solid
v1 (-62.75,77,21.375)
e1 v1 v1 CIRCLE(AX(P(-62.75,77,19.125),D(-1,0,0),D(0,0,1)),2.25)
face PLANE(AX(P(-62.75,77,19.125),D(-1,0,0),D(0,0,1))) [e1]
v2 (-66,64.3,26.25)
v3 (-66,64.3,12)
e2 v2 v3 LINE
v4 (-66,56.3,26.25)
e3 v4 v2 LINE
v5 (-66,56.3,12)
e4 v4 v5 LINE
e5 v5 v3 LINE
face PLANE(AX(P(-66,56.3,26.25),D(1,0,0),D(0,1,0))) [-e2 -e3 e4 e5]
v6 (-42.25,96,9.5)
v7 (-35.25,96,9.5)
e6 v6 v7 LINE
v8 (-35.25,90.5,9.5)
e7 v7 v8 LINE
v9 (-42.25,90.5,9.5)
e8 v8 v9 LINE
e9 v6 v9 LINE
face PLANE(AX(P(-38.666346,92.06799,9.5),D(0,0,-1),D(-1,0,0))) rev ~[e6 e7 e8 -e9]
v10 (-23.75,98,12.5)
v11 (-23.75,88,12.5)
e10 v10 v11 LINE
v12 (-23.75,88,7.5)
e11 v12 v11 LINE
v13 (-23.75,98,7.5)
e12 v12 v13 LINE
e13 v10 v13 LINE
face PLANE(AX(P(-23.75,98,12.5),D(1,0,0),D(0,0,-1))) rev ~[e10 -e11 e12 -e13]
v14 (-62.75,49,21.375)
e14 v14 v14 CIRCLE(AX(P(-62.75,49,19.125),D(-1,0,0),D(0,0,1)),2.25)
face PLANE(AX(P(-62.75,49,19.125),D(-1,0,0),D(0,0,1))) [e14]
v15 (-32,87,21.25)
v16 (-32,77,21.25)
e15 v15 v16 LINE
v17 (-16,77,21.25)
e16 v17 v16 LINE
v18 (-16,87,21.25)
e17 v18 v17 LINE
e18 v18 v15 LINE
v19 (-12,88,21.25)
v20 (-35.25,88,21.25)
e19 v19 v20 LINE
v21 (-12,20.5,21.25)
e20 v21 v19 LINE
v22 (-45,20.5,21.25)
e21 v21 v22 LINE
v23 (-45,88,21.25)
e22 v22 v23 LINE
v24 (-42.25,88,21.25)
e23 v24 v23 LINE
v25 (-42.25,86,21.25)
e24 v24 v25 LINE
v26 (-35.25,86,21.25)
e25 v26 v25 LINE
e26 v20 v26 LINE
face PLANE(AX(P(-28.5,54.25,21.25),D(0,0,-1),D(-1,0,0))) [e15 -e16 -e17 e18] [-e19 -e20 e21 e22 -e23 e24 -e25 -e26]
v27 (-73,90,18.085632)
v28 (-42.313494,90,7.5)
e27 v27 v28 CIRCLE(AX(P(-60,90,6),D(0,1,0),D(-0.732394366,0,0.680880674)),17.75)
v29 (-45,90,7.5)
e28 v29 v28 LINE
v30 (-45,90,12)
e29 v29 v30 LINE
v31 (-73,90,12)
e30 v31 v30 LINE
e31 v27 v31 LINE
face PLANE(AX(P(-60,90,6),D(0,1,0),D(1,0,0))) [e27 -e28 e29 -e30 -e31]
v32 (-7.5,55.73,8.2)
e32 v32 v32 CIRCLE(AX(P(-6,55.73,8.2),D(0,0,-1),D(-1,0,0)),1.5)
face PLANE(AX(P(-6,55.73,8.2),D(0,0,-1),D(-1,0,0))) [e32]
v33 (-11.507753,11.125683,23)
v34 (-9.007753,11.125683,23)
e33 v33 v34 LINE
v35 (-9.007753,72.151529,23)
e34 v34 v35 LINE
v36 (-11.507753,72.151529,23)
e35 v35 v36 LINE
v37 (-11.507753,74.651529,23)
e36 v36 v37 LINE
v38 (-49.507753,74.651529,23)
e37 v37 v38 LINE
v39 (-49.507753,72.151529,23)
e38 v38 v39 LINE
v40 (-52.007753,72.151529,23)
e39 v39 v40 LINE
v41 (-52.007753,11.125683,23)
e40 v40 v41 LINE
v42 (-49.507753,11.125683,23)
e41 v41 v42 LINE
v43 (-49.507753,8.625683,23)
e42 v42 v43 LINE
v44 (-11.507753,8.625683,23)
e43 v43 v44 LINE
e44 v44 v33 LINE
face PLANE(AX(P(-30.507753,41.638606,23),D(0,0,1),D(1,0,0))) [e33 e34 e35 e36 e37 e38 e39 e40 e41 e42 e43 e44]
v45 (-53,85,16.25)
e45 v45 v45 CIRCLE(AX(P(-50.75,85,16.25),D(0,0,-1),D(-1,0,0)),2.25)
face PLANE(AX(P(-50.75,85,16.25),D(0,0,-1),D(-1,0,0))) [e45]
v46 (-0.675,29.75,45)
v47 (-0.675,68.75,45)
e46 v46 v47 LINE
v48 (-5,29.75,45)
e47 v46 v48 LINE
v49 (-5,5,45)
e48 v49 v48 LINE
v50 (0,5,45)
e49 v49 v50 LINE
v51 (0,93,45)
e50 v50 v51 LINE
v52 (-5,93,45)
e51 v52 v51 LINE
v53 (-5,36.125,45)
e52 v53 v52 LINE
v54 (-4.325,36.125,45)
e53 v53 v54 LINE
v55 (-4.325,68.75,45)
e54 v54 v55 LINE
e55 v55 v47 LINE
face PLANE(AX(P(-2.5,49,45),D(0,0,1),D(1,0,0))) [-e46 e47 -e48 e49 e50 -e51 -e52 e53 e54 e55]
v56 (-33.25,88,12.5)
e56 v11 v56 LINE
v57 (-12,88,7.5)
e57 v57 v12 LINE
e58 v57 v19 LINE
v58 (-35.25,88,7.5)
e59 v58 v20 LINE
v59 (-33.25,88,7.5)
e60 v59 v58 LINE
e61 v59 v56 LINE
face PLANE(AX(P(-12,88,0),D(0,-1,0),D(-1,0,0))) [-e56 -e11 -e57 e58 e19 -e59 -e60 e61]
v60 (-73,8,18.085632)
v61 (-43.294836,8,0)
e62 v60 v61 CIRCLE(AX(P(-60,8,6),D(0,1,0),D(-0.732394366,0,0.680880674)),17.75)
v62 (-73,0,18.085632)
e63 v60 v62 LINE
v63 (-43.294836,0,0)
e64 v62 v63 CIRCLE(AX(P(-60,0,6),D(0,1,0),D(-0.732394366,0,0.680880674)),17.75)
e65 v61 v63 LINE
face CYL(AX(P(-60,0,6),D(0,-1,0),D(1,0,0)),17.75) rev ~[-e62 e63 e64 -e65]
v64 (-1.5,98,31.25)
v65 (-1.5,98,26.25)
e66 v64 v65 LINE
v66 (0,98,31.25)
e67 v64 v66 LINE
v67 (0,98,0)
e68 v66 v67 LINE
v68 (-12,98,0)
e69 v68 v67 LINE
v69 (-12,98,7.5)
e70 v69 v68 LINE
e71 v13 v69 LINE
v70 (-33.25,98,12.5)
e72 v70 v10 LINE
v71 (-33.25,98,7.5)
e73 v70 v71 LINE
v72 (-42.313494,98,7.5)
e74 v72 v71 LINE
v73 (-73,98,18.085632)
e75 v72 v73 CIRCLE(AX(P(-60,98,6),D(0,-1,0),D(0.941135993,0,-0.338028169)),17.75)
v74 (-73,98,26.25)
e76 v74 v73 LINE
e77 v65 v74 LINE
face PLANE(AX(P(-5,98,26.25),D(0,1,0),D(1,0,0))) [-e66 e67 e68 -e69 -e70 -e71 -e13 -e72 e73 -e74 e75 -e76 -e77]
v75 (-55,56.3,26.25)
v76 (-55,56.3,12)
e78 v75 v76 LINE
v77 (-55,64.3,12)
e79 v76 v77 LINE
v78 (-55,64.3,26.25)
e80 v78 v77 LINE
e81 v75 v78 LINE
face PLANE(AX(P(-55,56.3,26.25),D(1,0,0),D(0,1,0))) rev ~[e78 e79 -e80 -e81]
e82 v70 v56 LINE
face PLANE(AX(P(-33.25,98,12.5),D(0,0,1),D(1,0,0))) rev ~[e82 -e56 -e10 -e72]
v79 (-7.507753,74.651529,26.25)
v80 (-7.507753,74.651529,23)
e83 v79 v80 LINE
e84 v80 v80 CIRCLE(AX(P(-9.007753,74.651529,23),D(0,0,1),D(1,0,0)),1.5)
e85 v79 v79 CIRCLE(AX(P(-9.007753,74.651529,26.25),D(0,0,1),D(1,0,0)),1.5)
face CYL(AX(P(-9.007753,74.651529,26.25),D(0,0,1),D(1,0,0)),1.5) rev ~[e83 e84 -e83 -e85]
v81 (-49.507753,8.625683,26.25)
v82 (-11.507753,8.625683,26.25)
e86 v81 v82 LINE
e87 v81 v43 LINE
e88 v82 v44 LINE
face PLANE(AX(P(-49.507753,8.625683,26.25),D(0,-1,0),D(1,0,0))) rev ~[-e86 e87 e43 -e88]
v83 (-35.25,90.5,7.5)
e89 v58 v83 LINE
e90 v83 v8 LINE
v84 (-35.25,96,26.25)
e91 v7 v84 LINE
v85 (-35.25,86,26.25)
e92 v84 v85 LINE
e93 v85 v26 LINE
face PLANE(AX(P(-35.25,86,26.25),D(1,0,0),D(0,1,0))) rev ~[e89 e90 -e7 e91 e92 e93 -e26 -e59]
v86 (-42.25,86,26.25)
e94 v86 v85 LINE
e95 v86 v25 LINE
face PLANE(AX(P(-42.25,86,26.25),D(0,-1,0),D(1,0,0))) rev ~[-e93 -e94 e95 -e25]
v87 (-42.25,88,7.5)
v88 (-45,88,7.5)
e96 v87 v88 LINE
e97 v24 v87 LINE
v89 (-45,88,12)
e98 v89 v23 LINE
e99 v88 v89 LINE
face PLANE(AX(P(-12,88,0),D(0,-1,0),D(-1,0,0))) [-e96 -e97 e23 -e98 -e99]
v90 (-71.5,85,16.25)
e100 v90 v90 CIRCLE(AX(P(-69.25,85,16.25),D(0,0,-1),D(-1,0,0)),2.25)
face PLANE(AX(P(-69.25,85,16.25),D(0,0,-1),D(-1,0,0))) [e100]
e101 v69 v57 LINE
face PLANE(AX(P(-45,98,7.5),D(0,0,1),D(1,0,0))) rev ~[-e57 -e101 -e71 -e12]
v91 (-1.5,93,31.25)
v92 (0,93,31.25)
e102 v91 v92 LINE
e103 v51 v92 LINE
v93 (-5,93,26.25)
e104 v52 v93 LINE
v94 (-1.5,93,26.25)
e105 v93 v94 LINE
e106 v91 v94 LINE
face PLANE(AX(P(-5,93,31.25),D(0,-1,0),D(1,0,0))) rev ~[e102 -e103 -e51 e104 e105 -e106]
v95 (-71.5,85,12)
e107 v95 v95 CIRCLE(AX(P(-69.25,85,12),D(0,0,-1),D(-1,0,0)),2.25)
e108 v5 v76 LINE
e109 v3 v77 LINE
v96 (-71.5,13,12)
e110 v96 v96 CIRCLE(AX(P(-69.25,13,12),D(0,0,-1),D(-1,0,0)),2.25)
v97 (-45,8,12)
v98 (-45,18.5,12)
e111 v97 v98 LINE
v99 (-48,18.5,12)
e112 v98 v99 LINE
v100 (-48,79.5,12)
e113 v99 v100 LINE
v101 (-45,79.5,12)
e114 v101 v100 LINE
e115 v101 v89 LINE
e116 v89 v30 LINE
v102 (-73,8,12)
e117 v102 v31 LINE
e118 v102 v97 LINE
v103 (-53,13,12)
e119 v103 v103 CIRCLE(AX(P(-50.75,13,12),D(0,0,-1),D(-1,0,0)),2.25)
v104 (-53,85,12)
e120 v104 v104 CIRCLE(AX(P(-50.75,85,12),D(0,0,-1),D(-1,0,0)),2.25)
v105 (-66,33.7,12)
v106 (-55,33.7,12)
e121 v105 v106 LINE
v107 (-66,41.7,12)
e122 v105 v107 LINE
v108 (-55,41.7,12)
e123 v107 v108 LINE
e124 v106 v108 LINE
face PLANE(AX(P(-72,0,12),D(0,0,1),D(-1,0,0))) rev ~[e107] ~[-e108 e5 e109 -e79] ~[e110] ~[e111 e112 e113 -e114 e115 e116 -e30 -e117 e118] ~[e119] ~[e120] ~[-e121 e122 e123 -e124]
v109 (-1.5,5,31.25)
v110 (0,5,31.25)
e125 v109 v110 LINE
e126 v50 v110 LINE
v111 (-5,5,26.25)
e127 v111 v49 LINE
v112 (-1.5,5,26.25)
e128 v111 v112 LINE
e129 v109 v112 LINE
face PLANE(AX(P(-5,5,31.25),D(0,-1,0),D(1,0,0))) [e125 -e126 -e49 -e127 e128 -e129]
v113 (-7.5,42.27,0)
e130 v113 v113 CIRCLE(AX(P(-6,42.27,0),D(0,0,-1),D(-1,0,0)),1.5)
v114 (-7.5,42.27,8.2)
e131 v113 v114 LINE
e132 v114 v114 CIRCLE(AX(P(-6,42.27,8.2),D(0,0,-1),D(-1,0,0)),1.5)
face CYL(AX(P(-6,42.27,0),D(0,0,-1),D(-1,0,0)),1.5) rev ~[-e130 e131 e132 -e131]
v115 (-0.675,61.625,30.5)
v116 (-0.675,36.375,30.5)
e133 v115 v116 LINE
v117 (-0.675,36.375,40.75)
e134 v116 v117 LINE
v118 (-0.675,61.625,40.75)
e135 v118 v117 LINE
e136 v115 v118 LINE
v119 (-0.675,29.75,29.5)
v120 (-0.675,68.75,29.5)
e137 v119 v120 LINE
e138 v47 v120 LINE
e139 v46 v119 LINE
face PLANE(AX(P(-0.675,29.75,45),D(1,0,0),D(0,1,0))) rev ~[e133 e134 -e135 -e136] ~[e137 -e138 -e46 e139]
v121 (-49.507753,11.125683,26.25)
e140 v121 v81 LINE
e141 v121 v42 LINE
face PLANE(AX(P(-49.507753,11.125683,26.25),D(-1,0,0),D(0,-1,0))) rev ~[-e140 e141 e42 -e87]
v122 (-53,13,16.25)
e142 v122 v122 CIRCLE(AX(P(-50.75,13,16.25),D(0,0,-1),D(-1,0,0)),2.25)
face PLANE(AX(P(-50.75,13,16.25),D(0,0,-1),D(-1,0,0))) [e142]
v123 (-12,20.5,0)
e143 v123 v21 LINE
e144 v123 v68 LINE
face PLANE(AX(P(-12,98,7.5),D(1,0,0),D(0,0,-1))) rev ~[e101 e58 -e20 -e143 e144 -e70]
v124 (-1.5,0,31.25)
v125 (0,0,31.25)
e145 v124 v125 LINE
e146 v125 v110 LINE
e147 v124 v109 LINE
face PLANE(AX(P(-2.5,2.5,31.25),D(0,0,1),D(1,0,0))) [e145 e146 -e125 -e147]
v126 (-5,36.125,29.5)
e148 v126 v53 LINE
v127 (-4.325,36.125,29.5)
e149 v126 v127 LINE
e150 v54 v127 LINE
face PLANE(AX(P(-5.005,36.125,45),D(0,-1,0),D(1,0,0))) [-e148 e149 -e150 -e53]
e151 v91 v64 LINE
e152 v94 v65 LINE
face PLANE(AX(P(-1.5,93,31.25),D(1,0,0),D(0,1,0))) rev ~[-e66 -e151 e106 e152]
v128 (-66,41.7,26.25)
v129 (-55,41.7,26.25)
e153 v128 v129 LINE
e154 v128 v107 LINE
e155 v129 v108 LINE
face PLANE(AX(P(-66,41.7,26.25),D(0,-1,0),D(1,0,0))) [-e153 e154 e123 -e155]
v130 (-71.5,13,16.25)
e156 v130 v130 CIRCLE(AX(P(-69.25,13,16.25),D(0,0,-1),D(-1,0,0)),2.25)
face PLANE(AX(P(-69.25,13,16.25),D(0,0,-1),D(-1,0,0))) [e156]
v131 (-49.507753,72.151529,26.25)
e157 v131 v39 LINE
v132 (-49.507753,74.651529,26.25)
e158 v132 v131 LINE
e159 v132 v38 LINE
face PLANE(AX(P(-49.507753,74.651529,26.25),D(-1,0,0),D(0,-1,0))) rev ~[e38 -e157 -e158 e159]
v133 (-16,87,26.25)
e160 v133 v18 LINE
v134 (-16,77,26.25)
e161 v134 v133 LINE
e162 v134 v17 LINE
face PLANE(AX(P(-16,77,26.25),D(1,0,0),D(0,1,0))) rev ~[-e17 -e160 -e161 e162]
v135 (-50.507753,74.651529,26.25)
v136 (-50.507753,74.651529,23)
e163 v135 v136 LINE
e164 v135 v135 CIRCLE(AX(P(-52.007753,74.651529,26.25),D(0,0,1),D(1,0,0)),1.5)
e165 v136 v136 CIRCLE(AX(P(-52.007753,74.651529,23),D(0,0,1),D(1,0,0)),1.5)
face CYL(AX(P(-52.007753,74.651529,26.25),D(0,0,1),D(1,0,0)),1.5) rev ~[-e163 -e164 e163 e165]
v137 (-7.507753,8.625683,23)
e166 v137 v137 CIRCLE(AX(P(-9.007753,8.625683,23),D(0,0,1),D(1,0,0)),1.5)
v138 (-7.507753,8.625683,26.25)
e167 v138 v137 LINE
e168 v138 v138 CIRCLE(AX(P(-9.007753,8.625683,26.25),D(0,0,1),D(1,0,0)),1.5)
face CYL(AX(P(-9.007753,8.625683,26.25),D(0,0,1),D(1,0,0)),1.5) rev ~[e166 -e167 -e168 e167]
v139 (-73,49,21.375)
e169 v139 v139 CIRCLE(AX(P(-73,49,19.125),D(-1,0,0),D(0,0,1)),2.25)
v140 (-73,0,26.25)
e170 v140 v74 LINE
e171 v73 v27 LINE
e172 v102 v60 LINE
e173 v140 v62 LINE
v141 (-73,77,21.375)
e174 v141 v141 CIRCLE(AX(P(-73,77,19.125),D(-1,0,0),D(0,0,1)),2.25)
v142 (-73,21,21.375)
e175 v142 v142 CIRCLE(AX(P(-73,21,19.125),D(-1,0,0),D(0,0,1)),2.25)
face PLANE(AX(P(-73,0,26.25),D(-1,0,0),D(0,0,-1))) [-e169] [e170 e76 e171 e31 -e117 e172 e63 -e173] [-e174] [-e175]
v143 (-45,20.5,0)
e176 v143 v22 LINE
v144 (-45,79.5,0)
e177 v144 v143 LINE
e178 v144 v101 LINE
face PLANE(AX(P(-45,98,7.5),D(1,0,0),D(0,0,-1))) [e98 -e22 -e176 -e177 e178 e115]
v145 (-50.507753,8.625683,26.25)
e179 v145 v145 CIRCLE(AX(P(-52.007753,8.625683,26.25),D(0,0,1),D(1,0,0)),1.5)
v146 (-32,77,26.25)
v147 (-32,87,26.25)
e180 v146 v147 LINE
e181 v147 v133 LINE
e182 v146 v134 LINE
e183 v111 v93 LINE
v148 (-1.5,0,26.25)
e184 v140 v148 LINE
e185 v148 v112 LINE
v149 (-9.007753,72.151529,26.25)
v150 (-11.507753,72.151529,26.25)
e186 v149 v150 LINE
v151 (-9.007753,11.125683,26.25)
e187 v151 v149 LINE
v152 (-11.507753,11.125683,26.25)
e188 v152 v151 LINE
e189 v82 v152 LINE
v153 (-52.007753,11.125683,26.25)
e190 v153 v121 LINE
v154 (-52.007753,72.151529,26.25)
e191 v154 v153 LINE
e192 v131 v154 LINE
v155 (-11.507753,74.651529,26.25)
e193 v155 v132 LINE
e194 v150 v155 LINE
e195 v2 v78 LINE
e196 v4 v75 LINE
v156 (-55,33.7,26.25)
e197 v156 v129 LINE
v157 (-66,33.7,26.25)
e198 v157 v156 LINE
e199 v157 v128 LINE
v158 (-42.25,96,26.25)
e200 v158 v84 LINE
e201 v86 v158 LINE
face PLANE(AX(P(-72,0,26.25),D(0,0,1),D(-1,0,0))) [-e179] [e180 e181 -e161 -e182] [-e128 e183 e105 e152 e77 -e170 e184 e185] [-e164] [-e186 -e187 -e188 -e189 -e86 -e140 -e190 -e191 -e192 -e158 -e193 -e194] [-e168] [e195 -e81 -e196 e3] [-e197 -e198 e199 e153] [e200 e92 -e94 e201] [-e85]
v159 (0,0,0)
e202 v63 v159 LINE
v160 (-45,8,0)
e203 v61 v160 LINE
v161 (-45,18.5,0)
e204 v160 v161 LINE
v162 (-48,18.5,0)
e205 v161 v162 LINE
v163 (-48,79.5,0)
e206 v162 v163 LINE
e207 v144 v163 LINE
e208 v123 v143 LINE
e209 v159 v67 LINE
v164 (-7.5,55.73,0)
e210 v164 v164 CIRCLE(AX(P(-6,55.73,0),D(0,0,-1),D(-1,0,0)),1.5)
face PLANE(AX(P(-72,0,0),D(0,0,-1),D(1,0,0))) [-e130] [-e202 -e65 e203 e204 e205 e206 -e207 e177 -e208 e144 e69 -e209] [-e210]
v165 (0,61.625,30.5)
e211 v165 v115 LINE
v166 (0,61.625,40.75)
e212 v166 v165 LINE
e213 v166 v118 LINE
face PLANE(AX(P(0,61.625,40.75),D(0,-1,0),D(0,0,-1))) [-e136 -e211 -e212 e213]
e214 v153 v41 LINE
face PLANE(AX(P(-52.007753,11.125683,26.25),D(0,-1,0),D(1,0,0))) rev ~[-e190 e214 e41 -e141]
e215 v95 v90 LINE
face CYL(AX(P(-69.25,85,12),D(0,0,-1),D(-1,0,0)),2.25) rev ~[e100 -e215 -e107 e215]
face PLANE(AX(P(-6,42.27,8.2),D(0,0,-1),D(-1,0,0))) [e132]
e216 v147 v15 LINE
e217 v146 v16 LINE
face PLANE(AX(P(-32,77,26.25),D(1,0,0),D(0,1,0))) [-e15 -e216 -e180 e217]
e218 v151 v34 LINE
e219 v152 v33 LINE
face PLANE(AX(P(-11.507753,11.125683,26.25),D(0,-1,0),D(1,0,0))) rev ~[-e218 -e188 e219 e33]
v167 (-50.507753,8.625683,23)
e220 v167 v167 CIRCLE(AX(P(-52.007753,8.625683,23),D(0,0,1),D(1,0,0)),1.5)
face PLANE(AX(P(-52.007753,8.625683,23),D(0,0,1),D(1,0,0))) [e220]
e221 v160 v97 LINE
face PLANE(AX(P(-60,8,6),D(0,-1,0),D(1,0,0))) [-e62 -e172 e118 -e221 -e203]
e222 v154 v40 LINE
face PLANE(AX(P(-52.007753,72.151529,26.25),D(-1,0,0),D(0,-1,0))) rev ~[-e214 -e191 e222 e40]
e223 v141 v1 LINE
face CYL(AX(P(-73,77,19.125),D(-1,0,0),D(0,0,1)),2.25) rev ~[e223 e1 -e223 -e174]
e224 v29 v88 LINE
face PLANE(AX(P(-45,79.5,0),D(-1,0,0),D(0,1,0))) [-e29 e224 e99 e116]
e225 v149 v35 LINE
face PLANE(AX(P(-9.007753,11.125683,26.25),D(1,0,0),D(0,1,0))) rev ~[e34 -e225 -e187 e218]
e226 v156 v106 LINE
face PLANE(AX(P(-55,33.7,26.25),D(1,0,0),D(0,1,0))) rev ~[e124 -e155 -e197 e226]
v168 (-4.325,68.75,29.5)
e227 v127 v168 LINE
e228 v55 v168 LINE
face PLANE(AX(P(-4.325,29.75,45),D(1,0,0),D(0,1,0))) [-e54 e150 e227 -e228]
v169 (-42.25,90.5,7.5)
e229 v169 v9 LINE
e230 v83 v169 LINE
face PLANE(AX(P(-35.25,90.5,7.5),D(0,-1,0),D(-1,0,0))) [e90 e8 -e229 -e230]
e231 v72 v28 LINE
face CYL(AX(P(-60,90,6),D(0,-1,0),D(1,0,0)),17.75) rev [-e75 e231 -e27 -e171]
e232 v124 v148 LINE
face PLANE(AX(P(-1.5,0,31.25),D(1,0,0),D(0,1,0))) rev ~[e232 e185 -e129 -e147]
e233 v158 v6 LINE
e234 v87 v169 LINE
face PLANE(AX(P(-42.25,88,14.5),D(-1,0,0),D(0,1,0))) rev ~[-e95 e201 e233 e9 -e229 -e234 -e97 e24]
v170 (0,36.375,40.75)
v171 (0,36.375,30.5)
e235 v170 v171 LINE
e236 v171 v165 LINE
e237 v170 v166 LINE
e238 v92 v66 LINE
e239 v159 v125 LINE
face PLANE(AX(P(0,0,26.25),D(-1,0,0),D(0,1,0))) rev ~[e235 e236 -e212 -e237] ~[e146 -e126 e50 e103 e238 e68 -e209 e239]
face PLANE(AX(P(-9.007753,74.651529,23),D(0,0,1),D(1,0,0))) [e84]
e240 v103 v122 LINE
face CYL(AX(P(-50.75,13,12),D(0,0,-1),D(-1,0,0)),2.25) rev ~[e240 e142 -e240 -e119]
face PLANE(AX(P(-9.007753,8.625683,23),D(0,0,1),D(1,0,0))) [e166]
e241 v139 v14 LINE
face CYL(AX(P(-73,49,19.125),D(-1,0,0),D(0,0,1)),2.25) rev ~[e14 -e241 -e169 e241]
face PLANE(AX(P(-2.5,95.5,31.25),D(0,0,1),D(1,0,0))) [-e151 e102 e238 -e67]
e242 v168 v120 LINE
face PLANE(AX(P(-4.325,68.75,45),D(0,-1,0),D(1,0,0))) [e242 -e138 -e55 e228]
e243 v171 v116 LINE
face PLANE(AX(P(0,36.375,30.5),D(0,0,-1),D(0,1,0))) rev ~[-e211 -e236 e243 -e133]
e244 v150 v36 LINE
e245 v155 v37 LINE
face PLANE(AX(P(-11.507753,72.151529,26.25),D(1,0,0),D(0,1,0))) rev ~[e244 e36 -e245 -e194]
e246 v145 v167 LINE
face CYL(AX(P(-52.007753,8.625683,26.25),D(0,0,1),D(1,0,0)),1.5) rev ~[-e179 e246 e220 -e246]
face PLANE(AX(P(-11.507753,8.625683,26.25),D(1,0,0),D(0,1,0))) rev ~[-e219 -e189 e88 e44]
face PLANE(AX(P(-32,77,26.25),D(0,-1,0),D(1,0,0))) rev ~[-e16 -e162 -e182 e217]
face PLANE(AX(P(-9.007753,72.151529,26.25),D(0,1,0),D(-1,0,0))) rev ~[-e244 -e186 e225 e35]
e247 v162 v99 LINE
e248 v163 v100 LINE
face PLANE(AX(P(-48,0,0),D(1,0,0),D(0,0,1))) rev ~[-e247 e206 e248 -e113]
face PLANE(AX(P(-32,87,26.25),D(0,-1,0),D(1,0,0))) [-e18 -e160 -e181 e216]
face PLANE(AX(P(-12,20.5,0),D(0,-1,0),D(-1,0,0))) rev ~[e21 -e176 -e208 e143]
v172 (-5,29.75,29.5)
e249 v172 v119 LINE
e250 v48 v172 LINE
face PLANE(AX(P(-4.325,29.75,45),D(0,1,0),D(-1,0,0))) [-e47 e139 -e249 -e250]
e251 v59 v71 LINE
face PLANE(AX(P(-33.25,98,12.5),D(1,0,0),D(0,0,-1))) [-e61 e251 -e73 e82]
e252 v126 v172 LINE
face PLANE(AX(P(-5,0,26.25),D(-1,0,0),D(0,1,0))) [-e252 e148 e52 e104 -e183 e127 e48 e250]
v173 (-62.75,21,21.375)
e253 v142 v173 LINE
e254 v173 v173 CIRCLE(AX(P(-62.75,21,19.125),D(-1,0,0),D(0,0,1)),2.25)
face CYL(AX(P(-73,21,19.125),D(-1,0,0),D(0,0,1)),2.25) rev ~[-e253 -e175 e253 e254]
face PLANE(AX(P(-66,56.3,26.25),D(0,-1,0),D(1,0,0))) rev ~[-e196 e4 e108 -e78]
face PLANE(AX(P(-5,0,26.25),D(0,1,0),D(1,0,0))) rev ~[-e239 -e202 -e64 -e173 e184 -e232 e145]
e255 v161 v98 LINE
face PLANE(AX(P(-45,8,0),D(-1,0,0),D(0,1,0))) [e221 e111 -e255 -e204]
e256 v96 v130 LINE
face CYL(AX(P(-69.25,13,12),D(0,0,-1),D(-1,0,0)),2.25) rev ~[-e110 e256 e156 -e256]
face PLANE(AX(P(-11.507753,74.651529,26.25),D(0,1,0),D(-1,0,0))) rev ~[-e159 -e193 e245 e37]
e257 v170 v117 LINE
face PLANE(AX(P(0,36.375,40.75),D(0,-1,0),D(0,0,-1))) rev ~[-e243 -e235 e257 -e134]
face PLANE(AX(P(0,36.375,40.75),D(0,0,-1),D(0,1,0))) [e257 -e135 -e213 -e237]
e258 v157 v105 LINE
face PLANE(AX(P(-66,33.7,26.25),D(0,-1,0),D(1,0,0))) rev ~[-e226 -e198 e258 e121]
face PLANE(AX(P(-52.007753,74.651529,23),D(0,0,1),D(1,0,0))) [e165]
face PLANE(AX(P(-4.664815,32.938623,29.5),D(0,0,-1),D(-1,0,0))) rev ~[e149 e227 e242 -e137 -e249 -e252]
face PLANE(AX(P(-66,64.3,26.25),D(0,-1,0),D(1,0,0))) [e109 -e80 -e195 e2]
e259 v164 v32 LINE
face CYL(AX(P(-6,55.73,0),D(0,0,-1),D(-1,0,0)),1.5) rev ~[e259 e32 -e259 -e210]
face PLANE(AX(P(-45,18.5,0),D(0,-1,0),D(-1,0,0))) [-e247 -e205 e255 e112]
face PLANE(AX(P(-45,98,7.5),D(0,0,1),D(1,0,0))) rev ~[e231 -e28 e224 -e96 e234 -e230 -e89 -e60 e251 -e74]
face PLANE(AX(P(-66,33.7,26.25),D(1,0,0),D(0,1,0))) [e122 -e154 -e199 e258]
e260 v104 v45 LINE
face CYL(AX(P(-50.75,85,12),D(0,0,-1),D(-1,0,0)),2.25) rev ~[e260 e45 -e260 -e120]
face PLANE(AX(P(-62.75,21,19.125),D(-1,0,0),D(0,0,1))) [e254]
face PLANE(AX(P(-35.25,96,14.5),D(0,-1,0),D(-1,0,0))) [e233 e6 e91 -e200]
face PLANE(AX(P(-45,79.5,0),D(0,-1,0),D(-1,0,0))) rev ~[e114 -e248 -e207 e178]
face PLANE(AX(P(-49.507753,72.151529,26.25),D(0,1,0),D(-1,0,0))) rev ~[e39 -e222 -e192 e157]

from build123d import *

# Parameters (mm, degrees)
SKETCH1_W           = 72
SKETCH1_H           = 26.25
BOSS_EXTRUDE1_DEPTH = 98
SKETCH3_W           = 24
SKETCH3_H           = 12
CUT_EXTRUDE2_DEPTH  = 98
SKETCH4_W           = 1
SKETCH4_H           = 14.25
BOSS_EXTRUDE2_DEPTH = 98
SKETCH8_R           = 17.75
CUT_EXTRUDE6_DEPTH  = 8
CUT_EXTRUDE7_START  = -8
SKETCH9_R           = 17.75
CUT_EXTRUDE7_DEPTH  = 8
SKETCH10_R          = 2.25
CUT_EXTRUDE8_DEPTH  = 4.25
SKETCH11_W          = 33
SKETCH11_H          = 67.5
CUT_EXTRUDE9_DEPTH  = 21.25
SKETCH12_W          = 33
SKETCH12_H          = 7.5
CUT_EXTRUDE10_DEPTH = 21.25
SKETCH13_W          = 9.5
SKETCH13_H          = 10
CUT_EXTRUDE11_DEPTH = 21.25
SKETCH14_W          = 5
SKETCH14_H          = 5
CUT_EXTRUDE13_DEPTH = 101.25
SKETCH17_W          = 7
SKETCH17_H          = 8
CUT_EXTRUDE14_DEPTH = 7
SKETCH18_W          = 5.398243629
SKETCH18_H          = 5.439982626
BOSS_EXTRUDE3_DEPTH = 2
SKETCH19_W          = 16
SKETCH19_H          = 10
CUT_EXTRUDE15_DEPTH = 12
SKETCH22_R          = 1.5
CUT_EXTRUDE16_DEPTH = 8.2
SKETCH23_W          = 11
SKETCH23_H          = 8
CUT_EXTRUDE18_DEPTH = 125.988249448
SKETCH25_R          = 2.25
CUT_EXTRUDE20_DEPTH = 10.25
SKETCH26_W          = 7
SKETCH26_H          = 8
CUT_EXTRUDE21_DEPTH = 124.057913195
SKETCH28_W          = 7.2
SKETCH28_H          = 8.135980894
BOSS_EXTRUDE6_DEPTH = 2
SKETCH31_R          = 1.5
CUT_EXTRUDE24_DEPTH = 3.25
SKETCH32_W          = 5
SKETCH32_H          = 98
BOSS_EXTRUDE7_DEPTH = 18.75
SKETCH34_W          = 5
SKETCH34_H          = 5
CUT_EXTRUDE27_DEPTH = 13.75
SKETCH35_W          = 3.5
SKETCH35_H          = 5
CUT_EXTRUDE28_DEPTH = 5
SKETCH37_W          = 10.25
SKETCH37_H          = 25.25
CUT_EXTRUDE29_DEPTH = 3
SKETCH36_W          = 3.65
SKETCH36_H          = 39
CUT_EXTRUDE30_DEPTH = 15.5
CUT_EXTRUDE31_DEPTH = 15.5
CUT_EXTRUDE32_DEPTH = 3.25
SKETCH41_W          = 7
SKETCH41_H          = 2.5
CUT_EXTRUDE33_DEPTH = 3
SKETCH42_W          = 7
SKETCH42_H          = 2
CUT_EXTRUDE34_DEPTH = 6
SKETCH43_W          = 3
SKETCH43_H          = 10.5
CUT_EXTRUDE35_DEPTH = 12


with BuildPart() as part:
    # Sketch1 → Boss-Extrude1 (new body)
    with BuildSketch(Plane(origin=(0, 0, 0), x_dir=(1, 0, 0), z_dir=(0, 1, 0))):
        with Locations((-36, -13.125)):
            Rectangle(SKETCH1_W, SKETCH1_H)
    extrude(amount=BOSS_EXTRUDE1_DEPTH)

    # Sketch3 → Cut-Extrude2 (cut)
    with BuildSketch(Plane.XZ):
        with Locations((-60, 6)):
            Rectangle(SKETCH3_W, SKETCH3_H)
    extrude(amount=-CUT_EXTRUDE2_DEPTH, mode=Mode.SUBTRACT)

    # Sketch4 → Boss-Extrude2 (add)
    with BuildSketch(Plane(origin=(0, 0, 0), x_dir=(-1, 0, 0), z_dir=(0, -1, 0))):
        with Locations((72.5, -19.125)):
            Rectangle(SKETCH4_W, SKETCH4_H)
    extrude(amount=-BOSS_EXTRUDE2_DEPTH)

    # Sketch8 → Cut-Extrude6 (cut)
    with BuildSketch(Plane.XZ):
        with Locations((-60, 6)):
            Circle(SKETCH8_R)
    extrude(amount=-CUT_EXTRUDE6_DEPTH, mode=Mode.SUBTRACT)

    # Sketch9 → Cut-Extrude7 (cut)
    with BuildSketch(Plane(origin=(0, 98, 0), x_dir=(1, 0, 0), z_dir=(0, 1, 0)).offset(CUT_EXTRUDE7_START)):
        with Locations((-60, -6)):
            Circle(SKETCH9_R)
    extrude(amount=CUT_EXTRUDE7_DEPTH, mode=Mode.SUBTRACT)

    # Sketch10 → Cut-Extrude8 (cut)
    with BuildSketch(Plane(origin=(0, 0, 12), x_dir=(-1, 0, 0), z_dir=(0, 0, -1))):
        with Locations((69.25, 85)):
            Circle(SKETCH10_R)
        with Locations((50.75, 85)):
            Circle(SKETCH10_R)
        with Locations((69.25, 13)):
            Circle(SKETCH10_R)
        with Locations((50.75, 13)):
            Circle(SKETCH10_R)
    extrude(amount=-CUT_EXTRUDE8_DEPTH, mode=Mode.SUBTRACT)

    # Sketch11 → Cut-Extrude9 (cut)
    with BuildSketch(Plane(origin=(0, 0, 0), x_dir=(-1, 0, 0), z_dir=(0, 0, -1))):
        with Locations((28.5, 54.25)):
            Rectangle(SKETCH11_W, SKETCH11_H)
    extrude(amount=-CUT_EXTRUDE9_DEPTH, mode=Mode.SUBTRACT)

    # Sketch12 → Cut-Extrude10 (cut)
    with BuildSketch(Plane(origin=(0, 98, 0), x_dir=(1, 0, 0), z_dir=(0, 1, 0))):
        with Locations((-28.5, -3.75)):
            Rectangle(SKETCH12_W, SKETCH12_H)
    extrude(amount=-CUT_EXTRUDE10_DEPTH, mode=Mode.SUBTRACT)

    # Sketch13 → Cut-Extrude11 (cut)
    with BuildSketch(Plane(origin=(0, 98, 0), x_dir=(1, 0, 0), z_dir=(0, 1, 0))):
        with Locations((-28.5, -7.5)):
            Rectangle(SKETCH13_W, SKETCH13_H)
    extrude(amount=-CUT_EXTRUDE11_DEPTH, mode=Mode.SUBTRACT)

    # Sketch14 → Cut-Extrude13 (cut)
    with BuildSketch(Plane(origin=(0, 20.5, 0), x_dir=(1, 0, 0), z_dir=(0, 1, 0))):
        with Locations((-39.5, -12)):
            Rectangle(SKETCH14_W, SKETCH14_H)
    extrude(amount=CUT_EXTRUDE13_DEPTH, mode=Mode.SUBTRACT)

    # Sketch17 → Cut-Extrude14 (cut)
    with BuildSketch(Plane(origin=(0, 0, 7.5), x_dir=(-1, 0, 0), z_dir=(0, 0, -1))):
        with Locations((38.75, 92)):
            Rectangle(SKETCH17_W, SKETCH17_H)
    extrude(amount=-CUT_EXTRUDE14_DEPTH, mode=Mode.SUBTRACT)

    # Sketch18 → Boss-Extrude3 (add)
    with BuildSketch(Plane(origin=(0, 98, 0), x_dir=(1, 0, 0), z_dir=(0, 1, 0))):
        with Locations((-39.480706385, -11.994977786)):
            Rectangle(SKETCH18_W, SKETCH18_H)
    extrude(amount=-BOSS_EXTRUDE3_DEPTH)

    # Sketch19 → Cut-Extrude15 (cut)
    with BuildSketch(Plane.XY.offset(26.25)):
        with Locations((-24, 82)):
            Rectangle(SKETCH19_W, SKETCH19_H)
    extrude(amount=-CUT_EXTRUDE15_DEPTH, mode=Mode.SUBTRACT)

    # Sketch22 → Cut-Extrude16 (cut)
    with BuildSketch(Plane(origin=(0, 0, 0), x_dir=(-1, 0, 0), z_dir=(0, 0, -1))):
        with Locations((6, 55.73)):
            Circle(SKETCH22_R)
        with Locations((6, 42.27)):
            Circle(SKETCH22_R)
    extrude(amount=-CUT_EXTRUDE16_DEPTH, mode=Mode.SUBTRACT)

    # Sketch23 → Cut-Extrude18 (cut, through all)
    with BuildSketch(Plane.XY.offset(26.25)):
        with Locations((-60.5, 37.7)):
            Rectangle(SKETCH23_W, SKETCH23_H)
        with Locations((-60.5, 60.3)):
            Rectangle(SKETCH23_W, SKETCH23_H)
    extrude(amount=-CUT_EXTRUDE18_DEPTH, mode=Mode.SUBTRACT)

    # Sketch25 → Cut-Extrude20 (cut)
    with BuildSketch(Plane.ZY.offset(73)):
        with Locations((19.125, 77)):
            Circle(SKETCH25_R)
        with Locations((19.125, 49)):
            Circle(SKETCH25_R)
        with Locations((19.125, 21)):
            Circle(SKETCH25_R)
    extrude(amount=-CUT_EXTRUDE20_DEPTH, mode=Mode.SUBTRACT)

    # Sketch26 → Cut-Extrude21 (cut, through all)
    with BuildSketch(Plane(origin=(0, 0, 14.5), x_dir=(-1, 0, 0), z_dir=(0, 0, -1))):
        with Locations((38.75, 92)):
            Rectangle(SKETCH26_W, SKETCH26_H)
    extrude(amount=-CUT_EXTRUDE21_DEPTH, mode=Mode.SUBTRACT)

    # Sketch28 → Boss-Extrude6 (add)
    with BuildSketch(Plane(origin=(0, 0, 7.5), x_dir=(-1, 0, 0), z_dir=(0, 0, -1))):
        with Locations((38.666345703, 92.067990447)):
            Rectangle(SKETCH28_W, SKETCH28_H)
    extrude(amount=-BOSS_EXTRUDE6_DEPTH)

    # Sketch31 → Cut-Extrude24 (cut)
    with BuildSketch(Plane.XY.offset(26.25)):
        with Locations((-52.007752906, 74.651528785)):
            Circle(SKETCH31_R)
        with Locations((-9.007752906, 74.651528785)):
            Circle(SKETCH31_R)
        with Locations((-9.007752906, 8.625682812)):
            Circle(SKETCH31_R)
        with Locations((-52.007752906, 8.625682812)):
            Circle(SKETCH31_R)
    extrude(amount=-CUT_EXTRUDE24_DEPTH, mode=Mode.SUBTRACT)

    # Sketch32 → Boss-Extrude7 (add)
    with BuildSketch(Plane.XY.offset(26.25)):
        with Locations((-2.5, 49)):
            Rectangle(SKETCH32_W, SKETCH32_H)
    extrude(amount=BOSS_EXTRUDE7_DEPTH)

    # Sketch34 → Cut-Extrude27 (cut)
    with BuildSketch(Plane.XY.offset(45)):
        with Locations((-2.5, 95.5)):
            Rectangle(SKETCH34_W, SKETCH34_H)
        with Locations((-2.5, 2.5)):
            Rectangle(SKETCH34_W, SKETCH34_H)
    extrude(amount=-CUT_EXTRUDE27_DEPTH, mode=Mode.SUBTRACT)

    # Sketch35 → Cut-Extrude28 (cut)
    with BuildSketch(Plane.XY.offset(31.25)):
        with Locations((-3.25, 95.5)):
            Rectangle(SKETCH35_W, SKETCH35_H)
        with Locations((-3.25, 2.5)):
            Rectangle(SKETCH35_W, SKETCH35_H)
    extrude(amount=-CUT_EXTRUDE28_DEPTH, mode=Mode.SUBTRACT)

    # Sketch37 → Cut-Extrude29 (cut)
    with BuildSketch(Plane(origin=(0, 0, 0), x_dir=(0, 0, -1), z_dir=(1, 0, 0))):
        with Locations((-35.625, 49)):
            Rectangle(SKETCH37_W, SKETCH37_H)
    extrude(amount=-CUT_EXTRUDE29_DEPTH, mode=Mode.SUBTRACT)

    # Sketch36 → Cut-Extrude30 (cut)
    with BuildSketch(Plane.XY.offset(45)):
        with Locations((-2.5, 49.25)):
            Rectangle(SKETCH36_W, SKETCH36_H)
    extrude(amount=-CUT_EXTRUDE30_DEPTH, mode=Mode.SUBTRACT)

    # Sketch38 → Cut-Extrude31 (cut)
    with BuildSketch(Plane.XY.offset(45)):
        Polygon((-4.325, 30.125), (-4.325, 29.75), (-5, 29.75), (-5.005, 30.125), (-5.005, 36.125), (-4.325, 36.125), align=None)
    extrude(amount=-CUT_EXTRUDE31_DEPTH, mode=Mode.SUBTRACT)

    # Sketch39 → Cut-Extrude32 (cut)
    with BuildSketch(Plane.XY.offset(26.25)):
        Polygon((-49.507752906, 72.151528785), (-52.007752906, 72.151528785), (-52.007752906, 11.125682812), (-49.507752906, 11.125682812), (-49.507752906, 8.625682812), (-11.507752906, 8.625682812), (-11.507752906, 11.125682812), (-9.007752906, 11.125682812), (-9.007752906, 72.151528785), (-11.507752906, 72.151528785), (-11.507752906, 74.651528785), (-49.507752906, 74.651528785), align=None)
    extrude(amount=-CUT_EXTRUDE32_DEPTH, mode=Mode.SUBTRACT)

    # Sketch41 → Cut-Extrude33 (cut)
    with BuildSketch(Plane(origin=(0, 0, 7.5), x_dir=(-1, 0, 0), z_dir=(0, 0, -1))):
        with Locations((38.75, 89.25)):
            Rectangle(SKETCH41_W, SKETCH41_H)
    extrude(amount=-CUT_EXTRUDE33_DEPTH, mode=Mode.SUBTRACT)

    # Sketch42 → Cut-Extrude34 (cut)
    with BuildSketch(Plane.XY.offset(26.25)):
        with Locations((-38.75, 87)):
            Rectangle(SKETCH42_W, SKETCH42_H)
    extrude(amount=-CUT_EXTRUDE34_DEPTH, mode=Mode.SUBTRACT)

    # Sketch43 → Cut-Extrude35 (cut)
    with BuildSketch(Plane(origin=(0, 0, 0), x_dir=(-1, 0, 0), z_dir=(0, 0, -1))):
        with Locations((46.5, 84.75)):
            Rectangle(SKETCH43_W, SKETCH43_H)
        with Locations((46.5, 13.25)):
            Rectangle(SKETCH43_W, SKETCH43_H)
    extrude(amount=-CUT_EXTRUDE35_DEPTH, mode=Mode.SUBTRACT)


solid = part.part
